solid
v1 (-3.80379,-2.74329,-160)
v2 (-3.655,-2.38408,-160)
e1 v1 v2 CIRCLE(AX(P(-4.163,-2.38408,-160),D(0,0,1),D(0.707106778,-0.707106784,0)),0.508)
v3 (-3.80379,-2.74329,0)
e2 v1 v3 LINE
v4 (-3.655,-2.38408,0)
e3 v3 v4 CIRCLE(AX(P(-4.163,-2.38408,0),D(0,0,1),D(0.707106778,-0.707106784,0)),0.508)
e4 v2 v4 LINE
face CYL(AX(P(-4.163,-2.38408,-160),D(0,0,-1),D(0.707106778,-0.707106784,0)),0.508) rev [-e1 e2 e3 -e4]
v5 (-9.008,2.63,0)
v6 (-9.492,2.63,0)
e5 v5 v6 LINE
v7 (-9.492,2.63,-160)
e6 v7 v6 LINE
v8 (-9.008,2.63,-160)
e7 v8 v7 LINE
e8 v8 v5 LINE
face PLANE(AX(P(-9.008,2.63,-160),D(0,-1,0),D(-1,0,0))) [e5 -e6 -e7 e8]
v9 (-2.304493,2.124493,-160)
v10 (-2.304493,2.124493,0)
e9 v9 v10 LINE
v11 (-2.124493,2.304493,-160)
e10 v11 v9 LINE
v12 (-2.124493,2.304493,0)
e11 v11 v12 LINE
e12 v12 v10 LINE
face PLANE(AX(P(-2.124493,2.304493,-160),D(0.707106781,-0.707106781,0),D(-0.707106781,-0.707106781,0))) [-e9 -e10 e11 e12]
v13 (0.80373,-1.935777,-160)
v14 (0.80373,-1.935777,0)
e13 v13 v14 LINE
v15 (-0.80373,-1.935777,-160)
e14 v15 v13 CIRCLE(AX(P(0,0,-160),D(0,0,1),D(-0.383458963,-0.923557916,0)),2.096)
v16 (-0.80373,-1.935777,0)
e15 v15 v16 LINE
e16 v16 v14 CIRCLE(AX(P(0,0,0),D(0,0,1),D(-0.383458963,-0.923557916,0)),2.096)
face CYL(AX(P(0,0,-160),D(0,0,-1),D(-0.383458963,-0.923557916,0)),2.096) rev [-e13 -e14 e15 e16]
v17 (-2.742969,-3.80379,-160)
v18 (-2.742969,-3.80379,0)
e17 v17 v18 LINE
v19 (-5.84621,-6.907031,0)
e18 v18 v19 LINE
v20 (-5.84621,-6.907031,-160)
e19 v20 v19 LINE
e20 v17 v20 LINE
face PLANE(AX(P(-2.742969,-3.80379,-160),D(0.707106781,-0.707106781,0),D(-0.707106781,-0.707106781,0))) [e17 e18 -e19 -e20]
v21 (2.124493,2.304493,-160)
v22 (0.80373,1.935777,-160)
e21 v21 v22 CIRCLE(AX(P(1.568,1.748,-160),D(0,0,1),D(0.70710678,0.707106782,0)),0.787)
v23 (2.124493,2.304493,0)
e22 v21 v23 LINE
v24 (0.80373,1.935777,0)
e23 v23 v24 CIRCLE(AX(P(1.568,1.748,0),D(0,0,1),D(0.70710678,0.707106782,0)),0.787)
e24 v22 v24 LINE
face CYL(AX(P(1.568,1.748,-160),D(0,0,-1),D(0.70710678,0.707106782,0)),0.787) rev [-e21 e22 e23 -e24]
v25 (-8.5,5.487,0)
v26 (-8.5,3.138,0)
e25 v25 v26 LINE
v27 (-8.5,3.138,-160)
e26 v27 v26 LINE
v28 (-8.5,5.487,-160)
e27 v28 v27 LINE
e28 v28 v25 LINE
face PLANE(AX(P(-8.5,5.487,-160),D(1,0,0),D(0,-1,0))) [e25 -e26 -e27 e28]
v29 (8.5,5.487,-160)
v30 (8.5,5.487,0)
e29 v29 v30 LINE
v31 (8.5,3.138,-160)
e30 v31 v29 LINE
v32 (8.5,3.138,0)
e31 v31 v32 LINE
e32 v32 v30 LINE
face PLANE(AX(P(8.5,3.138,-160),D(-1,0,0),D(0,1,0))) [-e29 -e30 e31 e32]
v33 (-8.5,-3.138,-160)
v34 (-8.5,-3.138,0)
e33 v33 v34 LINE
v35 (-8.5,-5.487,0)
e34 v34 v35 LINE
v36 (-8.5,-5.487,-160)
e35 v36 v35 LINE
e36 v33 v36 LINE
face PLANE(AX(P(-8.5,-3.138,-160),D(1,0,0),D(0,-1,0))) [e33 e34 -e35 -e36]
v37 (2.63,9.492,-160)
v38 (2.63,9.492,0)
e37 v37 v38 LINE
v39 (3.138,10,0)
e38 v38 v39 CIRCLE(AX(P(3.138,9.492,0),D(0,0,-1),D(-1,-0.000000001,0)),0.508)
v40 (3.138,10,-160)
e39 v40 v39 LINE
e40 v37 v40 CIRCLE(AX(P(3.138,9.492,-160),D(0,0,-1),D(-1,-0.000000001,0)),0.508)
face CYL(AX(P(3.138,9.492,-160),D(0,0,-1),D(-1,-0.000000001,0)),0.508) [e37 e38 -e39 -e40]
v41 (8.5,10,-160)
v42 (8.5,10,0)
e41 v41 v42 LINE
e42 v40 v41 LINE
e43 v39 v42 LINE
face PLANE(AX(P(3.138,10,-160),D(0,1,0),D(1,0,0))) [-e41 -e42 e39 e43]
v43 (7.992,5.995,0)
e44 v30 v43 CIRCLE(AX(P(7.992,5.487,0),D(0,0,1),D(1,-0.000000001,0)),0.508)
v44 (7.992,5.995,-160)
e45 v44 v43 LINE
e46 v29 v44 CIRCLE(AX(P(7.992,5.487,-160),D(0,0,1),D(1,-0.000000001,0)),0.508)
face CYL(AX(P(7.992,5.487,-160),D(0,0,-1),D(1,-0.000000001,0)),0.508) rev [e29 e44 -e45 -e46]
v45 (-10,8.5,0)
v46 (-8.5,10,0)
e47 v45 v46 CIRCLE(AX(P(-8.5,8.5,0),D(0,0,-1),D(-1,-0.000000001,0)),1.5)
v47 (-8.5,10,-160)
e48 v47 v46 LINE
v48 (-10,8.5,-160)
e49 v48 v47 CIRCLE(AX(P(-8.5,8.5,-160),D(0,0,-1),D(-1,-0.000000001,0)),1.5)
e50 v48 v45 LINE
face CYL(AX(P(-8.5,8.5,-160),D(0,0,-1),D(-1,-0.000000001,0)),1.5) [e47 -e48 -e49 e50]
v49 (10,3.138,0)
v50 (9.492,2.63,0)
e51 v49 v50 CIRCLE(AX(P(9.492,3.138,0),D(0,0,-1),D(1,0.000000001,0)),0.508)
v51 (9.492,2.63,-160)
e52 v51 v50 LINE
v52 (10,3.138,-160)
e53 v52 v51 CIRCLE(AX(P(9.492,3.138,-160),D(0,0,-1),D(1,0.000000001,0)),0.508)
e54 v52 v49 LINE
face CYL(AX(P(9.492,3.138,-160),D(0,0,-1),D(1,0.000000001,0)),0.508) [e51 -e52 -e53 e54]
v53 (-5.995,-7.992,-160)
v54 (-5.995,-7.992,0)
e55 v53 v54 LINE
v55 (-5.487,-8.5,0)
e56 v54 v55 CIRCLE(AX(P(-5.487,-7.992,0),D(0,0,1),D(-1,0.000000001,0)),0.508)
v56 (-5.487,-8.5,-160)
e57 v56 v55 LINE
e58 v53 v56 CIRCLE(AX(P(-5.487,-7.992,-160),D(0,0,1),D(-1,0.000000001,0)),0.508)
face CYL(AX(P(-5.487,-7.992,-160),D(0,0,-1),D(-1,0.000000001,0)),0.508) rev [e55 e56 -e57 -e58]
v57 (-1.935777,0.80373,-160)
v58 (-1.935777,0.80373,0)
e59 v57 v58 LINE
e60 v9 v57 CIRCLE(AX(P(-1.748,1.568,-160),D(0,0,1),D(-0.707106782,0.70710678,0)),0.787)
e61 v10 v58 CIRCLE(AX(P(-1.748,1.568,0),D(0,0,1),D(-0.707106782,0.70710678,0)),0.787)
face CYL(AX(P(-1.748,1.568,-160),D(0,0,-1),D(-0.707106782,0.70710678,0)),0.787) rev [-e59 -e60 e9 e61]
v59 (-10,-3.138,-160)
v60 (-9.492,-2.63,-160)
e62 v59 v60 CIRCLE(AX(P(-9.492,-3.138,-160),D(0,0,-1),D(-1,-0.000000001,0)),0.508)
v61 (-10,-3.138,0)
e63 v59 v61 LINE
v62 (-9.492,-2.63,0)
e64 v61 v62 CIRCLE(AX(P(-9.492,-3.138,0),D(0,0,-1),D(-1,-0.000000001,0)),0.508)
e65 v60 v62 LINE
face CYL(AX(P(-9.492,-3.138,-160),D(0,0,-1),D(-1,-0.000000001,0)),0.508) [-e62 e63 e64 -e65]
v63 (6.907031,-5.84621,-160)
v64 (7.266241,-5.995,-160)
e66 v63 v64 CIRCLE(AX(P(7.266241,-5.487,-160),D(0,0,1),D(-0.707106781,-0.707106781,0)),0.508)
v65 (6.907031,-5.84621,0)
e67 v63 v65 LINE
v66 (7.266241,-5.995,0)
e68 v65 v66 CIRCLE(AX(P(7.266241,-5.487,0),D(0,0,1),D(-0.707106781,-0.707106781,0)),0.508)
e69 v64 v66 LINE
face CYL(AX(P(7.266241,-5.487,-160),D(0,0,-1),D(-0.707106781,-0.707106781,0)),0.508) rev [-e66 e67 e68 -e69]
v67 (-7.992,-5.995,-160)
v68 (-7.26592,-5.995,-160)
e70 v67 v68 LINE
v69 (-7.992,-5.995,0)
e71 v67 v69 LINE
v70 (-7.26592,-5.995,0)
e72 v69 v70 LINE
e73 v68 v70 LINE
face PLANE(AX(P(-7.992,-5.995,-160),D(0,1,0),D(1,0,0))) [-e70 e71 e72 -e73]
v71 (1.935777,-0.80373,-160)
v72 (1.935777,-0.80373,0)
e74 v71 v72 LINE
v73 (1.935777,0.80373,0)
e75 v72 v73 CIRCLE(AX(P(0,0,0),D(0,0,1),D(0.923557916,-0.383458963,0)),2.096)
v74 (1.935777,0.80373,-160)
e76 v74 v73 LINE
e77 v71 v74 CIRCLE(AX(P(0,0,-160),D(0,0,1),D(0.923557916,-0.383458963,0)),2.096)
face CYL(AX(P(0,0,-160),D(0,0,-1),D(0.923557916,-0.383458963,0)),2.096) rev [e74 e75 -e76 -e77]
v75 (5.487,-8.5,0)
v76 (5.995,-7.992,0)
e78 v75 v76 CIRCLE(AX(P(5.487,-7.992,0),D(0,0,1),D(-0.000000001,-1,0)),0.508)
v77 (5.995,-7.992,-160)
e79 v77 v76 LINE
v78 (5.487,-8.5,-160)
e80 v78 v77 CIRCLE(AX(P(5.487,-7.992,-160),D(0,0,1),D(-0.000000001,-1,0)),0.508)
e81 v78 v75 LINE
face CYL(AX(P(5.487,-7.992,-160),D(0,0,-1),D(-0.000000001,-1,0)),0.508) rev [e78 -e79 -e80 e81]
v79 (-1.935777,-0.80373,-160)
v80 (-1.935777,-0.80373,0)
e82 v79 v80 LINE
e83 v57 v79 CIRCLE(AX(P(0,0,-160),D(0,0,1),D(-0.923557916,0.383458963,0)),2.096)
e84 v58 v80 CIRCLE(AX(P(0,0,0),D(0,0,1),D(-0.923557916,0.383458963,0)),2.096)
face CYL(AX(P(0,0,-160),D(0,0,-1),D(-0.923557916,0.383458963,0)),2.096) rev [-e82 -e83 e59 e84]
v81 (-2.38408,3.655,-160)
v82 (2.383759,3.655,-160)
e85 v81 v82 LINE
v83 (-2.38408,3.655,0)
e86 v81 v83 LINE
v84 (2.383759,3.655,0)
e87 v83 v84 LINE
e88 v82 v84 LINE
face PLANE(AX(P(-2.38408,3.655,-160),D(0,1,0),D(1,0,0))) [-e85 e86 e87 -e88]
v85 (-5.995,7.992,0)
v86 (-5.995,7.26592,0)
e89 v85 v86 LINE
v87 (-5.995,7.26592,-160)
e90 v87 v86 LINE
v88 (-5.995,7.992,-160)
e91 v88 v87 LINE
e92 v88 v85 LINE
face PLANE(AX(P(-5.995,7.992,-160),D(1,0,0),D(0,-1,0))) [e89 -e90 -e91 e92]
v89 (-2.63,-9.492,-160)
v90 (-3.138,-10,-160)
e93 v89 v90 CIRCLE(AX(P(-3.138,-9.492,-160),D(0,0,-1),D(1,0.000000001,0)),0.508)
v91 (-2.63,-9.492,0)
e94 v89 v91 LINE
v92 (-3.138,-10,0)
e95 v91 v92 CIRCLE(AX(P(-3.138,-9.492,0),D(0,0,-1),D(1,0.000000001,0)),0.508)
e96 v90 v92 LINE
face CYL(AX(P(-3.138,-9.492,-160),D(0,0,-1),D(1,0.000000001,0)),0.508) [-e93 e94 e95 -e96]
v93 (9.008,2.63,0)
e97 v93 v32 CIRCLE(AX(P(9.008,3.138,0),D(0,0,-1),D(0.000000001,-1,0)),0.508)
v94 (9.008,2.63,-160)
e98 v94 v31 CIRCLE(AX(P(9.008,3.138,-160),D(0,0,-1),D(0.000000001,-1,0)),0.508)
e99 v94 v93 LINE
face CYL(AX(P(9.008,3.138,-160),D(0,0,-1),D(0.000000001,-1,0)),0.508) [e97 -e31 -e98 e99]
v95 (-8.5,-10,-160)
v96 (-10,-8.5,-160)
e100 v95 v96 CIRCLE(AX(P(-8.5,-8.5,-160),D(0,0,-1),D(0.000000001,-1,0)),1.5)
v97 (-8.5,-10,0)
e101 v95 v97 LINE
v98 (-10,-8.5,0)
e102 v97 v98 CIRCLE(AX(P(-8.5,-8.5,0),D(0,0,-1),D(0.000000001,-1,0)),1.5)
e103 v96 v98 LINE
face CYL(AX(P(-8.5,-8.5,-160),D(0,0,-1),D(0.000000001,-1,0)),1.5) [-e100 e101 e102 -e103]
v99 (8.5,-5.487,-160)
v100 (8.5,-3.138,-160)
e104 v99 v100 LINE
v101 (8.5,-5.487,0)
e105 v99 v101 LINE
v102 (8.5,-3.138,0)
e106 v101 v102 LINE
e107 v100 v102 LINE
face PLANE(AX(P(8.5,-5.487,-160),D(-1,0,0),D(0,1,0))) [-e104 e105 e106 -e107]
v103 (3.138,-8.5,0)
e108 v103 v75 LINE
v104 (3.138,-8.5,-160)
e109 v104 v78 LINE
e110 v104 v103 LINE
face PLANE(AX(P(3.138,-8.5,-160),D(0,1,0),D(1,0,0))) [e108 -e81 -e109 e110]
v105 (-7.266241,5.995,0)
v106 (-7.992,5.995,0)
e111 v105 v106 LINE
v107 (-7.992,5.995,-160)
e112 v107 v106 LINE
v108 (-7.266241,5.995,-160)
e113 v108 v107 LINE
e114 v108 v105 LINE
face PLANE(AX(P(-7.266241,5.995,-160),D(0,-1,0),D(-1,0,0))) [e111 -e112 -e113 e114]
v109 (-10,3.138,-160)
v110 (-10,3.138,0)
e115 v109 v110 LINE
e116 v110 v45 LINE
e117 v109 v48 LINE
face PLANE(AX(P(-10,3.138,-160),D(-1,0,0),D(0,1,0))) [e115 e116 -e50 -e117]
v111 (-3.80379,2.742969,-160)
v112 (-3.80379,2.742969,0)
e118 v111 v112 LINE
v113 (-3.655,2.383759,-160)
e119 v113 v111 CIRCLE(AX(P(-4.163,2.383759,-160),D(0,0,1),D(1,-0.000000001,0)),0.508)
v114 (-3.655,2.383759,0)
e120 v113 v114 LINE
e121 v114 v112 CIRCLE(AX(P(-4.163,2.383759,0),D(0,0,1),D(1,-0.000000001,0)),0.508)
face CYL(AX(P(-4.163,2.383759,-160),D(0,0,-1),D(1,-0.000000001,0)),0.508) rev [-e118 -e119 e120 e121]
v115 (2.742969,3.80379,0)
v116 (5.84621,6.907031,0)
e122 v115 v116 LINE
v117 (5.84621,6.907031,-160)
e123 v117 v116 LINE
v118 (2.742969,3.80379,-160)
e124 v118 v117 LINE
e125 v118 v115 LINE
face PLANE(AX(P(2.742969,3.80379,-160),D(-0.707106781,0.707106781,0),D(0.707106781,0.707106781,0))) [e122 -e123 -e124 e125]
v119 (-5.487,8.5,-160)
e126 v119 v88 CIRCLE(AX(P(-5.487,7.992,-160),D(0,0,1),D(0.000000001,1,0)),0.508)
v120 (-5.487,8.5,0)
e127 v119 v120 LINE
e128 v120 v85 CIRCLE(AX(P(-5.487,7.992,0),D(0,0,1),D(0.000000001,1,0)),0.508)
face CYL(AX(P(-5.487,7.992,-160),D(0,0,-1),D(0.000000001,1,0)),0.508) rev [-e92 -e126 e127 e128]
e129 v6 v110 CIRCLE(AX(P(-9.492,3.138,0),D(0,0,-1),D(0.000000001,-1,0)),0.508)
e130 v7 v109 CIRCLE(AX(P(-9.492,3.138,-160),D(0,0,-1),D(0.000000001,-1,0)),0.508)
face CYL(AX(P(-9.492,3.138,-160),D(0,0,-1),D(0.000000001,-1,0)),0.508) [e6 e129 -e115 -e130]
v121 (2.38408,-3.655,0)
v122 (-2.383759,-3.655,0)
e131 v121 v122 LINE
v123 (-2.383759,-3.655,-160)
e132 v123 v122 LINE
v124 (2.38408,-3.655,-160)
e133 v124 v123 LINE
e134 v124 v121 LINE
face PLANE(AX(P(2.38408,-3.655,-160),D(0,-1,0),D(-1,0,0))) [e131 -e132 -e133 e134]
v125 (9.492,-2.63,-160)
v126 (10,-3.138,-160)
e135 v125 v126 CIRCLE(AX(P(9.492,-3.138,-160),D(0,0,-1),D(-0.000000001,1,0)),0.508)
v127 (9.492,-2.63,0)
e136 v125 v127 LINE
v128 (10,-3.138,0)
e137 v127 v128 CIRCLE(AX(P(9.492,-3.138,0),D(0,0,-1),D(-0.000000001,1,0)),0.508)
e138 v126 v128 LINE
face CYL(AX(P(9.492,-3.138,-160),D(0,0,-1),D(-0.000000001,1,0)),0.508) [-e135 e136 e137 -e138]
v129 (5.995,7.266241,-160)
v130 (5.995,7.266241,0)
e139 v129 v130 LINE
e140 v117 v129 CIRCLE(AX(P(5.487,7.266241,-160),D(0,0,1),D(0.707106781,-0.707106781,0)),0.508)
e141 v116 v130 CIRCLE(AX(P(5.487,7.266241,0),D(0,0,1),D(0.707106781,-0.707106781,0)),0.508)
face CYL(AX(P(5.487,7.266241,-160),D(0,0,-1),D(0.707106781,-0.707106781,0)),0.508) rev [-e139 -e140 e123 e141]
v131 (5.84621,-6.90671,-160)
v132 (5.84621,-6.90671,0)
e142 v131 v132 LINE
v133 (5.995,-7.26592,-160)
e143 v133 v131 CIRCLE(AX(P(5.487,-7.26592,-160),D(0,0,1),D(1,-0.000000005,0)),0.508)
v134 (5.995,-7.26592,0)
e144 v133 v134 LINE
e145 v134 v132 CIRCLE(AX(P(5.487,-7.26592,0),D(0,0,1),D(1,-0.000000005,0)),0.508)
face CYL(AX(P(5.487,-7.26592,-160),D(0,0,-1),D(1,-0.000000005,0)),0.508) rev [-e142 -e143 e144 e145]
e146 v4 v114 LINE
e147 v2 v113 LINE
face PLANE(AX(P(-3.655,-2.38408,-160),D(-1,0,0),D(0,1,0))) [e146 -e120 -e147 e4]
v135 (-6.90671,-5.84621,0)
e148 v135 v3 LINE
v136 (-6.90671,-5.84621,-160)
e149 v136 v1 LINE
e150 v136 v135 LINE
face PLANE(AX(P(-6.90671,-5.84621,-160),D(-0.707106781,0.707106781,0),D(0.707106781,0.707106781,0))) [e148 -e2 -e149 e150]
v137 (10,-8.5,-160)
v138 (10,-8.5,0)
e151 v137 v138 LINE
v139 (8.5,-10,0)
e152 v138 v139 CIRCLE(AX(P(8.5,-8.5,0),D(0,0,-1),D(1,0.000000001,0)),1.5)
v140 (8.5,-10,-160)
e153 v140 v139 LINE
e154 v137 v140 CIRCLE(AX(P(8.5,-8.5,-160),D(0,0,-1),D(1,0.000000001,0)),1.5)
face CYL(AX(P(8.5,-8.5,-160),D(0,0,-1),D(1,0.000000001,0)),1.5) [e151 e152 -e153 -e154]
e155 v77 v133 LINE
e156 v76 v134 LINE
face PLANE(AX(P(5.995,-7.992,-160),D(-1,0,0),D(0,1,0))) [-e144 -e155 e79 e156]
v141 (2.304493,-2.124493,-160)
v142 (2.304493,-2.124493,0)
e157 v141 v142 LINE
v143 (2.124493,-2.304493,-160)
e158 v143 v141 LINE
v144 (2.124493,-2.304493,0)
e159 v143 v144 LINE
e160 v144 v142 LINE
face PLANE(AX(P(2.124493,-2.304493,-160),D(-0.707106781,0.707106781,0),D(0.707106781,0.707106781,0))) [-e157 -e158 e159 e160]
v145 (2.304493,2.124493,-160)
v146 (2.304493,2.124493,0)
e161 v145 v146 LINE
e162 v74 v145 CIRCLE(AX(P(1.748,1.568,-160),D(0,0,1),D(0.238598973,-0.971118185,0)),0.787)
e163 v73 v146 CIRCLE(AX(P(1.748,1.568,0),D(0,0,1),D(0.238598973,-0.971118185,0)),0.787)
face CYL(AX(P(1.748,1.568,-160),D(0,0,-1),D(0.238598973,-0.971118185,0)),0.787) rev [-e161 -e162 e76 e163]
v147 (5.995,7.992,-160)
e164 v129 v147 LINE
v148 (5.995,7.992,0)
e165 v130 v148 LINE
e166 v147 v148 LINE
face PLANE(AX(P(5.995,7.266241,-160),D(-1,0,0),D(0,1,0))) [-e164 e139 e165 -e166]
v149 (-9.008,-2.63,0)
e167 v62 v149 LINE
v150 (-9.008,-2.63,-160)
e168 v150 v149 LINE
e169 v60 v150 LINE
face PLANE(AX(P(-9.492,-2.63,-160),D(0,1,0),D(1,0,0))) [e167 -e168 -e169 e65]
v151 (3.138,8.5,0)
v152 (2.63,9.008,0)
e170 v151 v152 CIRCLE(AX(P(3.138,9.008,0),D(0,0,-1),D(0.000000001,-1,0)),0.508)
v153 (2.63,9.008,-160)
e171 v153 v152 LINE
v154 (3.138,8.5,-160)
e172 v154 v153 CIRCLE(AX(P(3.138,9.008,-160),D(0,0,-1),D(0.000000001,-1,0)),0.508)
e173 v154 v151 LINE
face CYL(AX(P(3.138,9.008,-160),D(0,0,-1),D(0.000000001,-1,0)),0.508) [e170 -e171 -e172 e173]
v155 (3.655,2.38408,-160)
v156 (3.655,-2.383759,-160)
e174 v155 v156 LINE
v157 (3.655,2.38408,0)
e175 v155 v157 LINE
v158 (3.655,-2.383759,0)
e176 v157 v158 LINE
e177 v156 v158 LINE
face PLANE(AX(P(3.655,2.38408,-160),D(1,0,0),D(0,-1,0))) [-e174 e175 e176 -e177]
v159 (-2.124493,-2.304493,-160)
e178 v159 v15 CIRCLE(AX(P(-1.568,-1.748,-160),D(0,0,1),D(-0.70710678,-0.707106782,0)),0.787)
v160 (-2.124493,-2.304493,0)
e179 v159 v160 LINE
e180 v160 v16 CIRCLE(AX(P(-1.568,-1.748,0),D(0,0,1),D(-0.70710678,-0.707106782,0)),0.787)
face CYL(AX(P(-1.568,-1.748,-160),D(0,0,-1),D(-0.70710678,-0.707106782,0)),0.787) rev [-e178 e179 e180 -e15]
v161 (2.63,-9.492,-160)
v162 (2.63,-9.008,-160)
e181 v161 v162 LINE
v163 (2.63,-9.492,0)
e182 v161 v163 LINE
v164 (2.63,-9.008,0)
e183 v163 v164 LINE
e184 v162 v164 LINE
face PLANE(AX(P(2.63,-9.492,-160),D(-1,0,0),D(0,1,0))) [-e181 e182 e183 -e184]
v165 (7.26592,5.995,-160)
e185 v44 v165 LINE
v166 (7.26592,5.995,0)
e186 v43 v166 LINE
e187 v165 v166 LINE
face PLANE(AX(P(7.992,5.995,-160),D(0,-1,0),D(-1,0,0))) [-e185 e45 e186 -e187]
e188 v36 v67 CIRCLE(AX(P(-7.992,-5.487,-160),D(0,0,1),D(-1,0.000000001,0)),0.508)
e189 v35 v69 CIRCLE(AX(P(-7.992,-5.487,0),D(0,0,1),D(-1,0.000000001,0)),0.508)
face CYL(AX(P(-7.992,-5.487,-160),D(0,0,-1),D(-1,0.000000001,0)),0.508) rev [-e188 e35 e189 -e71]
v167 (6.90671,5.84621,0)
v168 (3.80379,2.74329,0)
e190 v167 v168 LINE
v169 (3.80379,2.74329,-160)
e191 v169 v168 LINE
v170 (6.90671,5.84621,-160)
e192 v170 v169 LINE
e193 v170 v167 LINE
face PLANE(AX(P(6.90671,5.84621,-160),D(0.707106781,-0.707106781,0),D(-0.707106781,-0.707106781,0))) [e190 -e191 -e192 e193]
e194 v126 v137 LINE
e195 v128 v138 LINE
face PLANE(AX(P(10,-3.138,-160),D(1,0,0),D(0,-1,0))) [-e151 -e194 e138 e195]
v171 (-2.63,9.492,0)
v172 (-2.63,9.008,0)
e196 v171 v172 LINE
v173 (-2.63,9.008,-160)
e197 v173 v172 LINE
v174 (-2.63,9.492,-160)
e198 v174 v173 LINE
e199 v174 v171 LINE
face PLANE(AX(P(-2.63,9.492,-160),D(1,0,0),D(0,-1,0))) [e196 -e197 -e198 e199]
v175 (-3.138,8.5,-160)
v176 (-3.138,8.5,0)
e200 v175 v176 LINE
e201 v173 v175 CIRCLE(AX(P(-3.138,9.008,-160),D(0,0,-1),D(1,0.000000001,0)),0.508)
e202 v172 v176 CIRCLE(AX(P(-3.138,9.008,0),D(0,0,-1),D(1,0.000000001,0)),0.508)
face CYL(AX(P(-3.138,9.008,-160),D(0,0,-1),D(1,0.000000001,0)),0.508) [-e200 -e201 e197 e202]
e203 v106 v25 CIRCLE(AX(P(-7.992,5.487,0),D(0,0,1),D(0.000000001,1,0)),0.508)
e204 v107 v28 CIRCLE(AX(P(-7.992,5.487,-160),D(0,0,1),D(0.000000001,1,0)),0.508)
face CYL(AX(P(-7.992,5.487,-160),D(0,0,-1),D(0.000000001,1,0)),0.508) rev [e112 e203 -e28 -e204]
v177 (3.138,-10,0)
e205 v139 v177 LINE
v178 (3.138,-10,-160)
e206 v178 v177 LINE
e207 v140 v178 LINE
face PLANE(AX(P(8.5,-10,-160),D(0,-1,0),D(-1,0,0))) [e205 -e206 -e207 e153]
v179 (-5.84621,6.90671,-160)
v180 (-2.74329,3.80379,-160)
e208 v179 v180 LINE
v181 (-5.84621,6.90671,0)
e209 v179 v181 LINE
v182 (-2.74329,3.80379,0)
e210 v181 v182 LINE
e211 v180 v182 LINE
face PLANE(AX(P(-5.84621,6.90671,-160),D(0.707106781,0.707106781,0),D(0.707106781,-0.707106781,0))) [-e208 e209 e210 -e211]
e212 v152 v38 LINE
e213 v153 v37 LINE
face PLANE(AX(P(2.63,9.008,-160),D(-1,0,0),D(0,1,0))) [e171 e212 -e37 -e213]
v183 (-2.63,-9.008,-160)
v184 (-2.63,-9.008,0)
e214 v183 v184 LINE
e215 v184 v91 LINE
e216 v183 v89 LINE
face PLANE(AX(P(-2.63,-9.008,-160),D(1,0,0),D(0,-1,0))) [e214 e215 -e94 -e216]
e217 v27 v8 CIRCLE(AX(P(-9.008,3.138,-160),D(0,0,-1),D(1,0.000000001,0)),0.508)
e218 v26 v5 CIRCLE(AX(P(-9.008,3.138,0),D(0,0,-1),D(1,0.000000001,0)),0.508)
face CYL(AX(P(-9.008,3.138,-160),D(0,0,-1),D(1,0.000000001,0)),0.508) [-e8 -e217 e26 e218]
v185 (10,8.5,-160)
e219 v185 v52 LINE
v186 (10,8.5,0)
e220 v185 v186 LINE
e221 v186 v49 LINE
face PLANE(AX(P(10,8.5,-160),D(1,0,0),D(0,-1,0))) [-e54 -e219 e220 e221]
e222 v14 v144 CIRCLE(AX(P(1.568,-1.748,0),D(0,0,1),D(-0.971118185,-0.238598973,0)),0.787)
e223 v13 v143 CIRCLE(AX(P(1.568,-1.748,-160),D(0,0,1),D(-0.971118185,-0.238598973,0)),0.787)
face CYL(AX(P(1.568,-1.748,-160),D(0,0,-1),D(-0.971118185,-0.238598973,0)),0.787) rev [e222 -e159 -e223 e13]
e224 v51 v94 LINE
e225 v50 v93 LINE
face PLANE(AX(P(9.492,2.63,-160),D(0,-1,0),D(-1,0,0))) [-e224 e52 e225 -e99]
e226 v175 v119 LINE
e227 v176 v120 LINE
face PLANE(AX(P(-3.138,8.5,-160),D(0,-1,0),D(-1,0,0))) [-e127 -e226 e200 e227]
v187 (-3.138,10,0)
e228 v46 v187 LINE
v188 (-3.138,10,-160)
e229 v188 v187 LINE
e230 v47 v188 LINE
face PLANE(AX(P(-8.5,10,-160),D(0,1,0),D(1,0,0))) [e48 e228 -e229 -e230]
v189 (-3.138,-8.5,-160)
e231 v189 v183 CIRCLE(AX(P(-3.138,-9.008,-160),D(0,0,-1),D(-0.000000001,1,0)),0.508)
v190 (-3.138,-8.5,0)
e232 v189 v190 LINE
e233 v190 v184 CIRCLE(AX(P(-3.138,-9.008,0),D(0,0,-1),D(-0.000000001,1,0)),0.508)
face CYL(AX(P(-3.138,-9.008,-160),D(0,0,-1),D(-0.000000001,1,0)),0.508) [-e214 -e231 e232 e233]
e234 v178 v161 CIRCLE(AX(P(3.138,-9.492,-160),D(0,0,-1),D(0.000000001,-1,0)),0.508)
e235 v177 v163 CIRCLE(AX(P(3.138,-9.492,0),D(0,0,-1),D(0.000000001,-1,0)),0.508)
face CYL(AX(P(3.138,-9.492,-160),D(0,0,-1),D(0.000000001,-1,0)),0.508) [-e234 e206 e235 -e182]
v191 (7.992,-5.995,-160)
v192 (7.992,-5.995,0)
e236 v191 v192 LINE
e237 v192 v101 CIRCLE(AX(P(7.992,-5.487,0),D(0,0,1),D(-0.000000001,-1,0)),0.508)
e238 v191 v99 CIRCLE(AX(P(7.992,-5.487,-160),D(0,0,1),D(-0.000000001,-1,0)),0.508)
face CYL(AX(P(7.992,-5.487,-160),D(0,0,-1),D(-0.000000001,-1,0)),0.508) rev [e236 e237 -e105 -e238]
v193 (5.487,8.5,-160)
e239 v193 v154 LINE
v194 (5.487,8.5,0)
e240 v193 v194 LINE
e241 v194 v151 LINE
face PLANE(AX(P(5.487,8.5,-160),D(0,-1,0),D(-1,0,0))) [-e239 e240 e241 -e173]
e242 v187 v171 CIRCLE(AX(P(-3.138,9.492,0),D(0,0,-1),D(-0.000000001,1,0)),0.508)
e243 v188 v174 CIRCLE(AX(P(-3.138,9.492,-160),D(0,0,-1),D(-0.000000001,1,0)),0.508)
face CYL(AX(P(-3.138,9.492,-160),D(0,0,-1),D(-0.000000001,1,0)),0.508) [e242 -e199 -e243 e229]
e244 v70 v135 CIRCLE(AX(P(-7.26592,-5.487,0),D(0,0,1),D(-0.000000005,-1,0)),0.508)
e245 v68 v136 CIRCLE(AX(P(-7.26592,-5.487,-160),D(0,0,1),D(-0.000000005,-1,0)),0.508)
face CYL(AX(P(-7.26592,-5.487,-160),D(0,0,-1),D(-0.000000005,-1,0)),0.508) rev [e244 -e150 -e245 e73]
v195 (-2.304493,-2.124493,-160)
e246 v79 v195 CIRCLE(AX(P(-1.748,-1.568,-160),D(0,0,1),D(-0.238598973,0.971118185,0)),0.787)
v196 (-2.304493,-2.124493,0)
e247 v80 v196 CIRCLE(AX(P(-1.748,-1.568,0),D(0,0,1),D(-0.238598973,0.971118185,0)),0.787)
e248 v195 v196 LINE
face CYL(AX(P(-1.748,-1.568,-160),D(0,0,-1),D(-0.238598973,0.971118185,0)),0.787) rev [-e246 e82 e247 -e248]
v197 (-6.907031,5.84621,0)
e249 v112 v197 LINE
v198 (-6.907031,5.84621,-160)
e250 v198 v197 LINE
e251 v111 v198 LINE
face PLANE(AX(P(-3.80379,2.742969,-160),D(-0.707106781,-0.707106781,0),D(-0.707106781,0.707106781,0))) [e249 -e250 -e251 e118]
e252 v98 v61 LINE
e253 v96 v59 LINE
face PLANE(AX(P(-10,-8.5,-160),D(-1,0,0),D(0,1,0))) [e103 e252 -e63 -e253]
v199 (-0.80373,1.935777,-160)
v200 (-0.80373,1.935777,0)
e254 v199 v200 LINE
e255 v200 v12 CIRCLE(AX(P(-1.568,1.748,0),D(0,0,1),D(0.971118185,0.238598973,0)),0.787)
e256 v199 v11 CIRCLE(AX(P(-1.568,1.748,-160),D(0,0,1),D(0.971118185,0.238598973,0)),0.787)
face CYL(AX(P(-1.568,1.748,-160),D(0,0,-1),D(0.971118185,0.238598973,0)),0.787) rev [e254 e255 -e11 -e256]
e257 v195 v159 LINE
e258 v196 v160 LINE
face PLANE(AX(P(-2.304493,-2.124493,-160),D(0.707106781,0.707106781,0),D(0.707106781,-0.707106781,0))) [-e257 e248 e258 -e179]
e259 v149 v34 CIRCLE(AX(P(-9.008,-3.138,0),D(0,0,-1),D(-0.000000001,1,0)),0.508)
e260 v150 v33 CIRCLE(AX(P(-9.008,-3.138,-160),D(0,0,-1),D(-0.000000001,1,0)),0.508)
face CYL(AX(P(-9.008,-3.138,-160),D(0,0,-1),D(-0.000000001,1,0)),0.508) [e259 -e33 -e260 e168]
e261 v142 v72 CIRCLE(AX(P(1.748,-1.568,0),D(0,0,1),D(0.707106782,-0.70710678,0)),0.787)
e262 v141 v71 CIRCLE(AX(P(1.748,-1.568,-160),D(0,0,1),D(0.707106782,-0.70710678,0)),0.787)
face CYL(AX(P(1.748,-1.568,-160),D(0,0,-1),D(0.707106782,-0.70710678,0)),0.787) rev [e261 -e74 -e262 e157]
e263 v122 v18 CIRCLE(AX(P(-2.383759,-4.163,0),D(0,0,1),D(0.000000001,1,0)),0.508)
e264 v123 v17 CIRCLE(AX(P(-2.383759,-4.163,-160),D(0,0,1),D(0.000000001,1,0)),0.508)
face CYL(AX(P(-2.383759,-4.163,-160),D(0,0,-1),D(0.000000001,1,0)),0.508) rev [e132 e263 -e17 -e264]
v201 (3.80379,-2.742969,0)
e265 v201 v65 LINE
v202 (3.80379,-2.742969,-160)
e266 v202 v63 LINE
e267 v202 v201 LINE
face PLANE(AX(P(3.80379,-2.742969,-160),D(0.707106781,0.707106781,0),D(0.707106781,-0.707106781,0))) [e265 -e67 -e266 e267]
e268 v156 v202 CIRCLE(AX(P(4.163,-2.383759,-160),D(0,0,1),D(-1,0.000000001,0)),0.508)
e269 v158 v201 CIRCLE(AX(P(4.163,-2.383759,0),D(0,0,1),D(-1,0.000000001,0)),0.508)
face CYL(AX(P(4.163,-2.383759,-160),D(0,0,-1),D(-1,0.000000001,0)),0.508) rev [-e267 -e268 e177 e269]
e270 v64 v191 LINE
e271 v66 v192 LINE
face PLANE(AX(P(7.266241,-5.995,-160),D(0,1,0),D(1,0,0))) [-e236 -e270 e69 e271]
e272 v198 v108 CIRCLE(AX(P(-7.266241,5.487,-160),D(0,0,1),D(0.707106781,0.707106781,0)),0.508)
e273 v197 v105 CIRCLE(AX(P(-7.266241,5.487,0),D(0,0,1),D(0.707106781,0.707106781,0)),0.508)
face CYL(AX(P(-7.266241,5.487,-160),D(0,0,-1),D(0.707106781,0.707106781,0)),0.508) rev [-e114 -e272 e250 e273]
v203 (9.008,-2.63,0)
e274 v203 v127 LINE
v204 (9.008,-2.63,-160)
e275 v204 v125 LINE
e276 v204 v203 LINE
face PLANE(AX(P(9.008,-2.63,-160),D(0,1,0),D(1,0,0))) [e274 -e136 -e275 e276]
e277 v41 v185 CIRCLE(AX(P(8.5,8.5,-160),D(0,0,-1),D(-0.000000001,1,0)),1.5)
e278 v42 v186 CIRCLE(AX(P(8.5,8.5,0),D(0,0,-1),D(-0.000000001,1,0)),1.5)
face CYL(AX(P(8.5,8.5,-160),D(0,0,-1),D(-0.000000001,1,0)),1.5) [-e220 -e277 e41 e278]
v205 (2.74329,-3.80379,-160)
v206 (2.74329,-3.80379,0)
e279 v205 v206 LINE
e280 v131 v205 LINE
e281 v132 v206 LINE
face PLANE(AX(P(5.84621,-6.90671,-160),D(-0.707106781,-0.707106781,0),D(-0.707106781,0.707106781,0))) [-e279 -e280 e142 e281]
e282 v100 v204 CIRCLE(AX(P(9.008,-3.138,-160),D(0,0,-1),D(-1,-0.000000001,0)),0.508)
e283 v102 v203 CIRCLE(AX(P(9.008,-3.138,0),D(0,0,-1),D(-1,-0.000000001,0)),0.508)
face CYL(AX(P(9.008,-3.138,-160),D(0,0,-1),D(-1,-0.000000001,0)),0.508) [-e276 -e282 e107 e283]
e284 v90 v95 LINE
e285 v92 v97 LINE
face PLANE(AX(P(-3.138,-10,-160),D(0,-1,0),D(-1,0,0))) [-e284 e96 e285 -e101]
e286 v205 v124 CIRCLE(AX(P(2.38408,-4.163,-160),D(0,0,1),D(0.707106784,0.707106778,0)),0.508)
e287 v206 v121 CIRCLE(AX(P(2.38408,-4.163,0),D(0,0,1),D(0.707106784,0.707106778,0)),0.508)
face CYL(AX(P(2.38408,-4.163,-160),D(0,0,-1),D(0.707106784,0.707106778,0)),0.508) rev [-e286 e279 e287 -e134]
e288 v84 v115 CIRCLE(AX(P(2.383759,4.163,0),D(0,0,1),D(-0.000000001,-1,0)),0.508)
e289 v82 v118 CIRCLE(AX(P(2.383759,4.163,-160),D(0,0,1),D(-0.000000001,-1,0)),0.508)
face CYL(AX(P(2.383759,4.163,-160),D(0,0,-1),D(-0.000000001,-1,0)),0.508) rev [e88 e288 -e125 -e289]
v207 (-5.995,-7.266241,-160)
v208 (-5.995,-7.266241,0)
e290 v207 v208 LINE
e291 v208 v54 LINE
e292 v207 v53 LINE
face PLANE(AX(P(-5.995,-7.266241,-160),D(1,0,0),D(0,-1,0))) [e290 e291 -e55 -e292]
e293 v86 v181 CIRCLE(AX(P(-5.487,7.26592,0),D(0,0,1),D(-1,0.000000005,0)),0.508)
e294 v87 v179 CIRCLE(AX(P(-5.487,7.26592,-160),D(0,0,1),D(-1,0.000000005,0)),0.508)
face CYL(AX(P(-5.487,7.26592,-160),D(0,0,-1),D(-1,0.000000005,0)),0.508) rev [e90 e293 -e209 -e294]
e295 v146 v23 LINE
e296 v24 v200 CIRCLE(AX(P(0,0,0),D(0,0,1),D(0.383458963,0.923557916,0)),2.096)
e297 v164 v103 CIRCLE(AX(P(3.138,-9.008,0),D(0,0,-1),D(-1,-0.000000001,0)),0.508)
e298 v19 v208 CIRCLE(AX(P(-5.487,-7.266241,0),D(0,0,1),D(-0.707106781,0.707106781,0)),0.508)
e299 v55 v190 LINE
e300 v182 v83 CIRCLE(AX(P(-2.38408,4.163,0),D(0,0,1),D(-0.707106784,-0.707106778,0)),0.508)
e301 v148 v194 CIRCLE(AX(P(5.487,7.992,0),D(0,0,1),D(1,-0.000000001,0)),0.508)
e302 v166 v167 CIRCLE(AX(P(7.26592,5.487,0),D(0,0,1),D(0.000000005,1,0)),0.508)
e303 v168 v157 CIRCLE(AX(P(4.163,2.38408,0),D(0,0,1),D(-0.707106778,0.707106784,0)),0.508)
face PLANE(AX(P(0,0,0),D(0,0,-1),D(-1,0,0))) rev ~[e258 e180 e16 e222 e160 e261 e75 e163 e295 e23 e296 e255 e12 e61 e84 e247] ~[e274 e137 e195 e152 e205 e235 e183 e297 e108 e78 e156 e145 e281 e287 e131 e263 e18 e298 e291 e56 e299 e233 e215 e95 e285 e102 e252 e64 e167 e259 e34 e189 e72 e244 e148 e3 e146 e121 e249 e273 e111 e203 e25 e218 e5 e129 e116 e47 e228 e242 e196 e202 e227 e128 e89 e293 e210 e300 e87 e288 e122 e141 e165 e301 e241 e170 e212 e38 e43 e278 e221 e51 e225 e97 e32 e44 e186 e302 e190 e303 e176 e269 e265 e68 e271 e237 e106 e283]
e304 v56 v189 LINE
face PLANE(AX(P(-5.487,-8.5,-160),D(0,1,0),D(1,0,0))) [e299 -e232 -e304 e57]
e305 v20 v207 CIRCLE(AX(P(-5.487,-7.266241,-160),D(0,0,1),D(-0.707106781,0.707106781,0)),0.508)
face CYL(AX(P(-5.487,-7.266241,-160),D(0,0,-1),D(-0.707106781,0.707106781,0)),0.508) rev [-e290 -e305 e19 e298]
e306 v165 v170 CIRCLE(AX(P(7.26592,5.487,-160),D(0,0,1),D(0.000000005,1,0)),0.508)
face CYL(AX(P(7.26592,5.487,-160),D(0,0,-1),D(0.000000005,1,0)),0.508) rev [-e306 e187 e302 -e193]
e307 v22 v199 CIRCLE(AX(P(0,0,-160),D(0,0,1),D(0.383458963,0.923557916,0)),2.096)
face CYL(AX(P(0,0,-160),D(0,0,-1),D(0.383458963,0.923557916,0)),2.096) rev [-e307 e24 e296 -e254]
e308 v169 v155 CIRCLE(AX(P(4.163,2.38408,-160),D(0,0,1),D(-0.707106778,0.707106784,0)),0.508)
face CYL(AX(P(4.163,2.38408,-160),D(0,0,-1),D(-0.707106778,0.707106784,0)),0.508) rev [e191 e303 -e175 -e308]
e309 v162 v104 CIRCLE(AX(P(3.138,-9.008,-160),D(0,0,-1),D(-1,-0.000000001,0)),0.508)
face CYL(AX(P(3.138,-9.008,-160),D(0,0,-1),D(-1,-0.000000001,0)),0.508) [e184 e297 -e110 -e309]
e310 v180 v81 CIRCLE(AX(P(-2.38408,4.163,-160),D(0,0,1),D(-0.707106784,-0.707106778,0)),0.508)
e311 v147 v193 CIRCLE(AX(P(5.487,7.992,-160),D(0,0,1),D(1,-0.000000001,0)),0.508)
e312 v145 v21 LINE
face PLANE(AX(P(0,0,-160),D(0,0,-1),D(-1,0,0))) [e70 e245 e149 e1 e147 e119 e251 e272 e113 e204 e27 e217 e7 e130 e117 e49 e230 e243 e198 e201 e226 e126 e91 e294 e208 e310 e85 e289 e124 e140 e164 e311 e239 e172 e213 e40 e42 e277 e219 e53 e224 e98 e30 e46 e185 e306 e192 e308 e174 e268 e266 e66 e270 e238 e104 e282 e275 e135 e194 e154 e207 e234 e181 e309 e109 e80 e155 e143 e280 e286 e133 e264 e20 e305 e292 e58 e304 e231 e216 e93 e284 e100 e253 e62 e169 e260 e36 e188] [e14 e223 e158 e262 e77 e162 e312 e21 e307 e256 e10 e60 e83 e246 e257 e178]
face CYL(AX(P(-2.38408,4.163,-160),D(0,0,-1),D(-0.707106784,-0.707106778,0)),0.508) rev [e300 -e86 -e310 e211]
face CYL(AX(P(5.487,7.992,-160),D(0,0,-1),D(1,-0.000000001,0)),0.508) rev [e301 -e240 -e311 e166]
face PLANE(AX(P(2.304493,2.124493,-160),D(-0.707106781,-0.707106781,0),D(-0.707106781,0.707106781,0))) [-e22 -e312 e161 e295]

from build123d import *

# Parameters (mm, degrees)
BOSS_EXTRUDE1_DEPTH = 160


with BuildPart() as part:
    # Sketch1 → Boss-Extrude1 (new body)
    with BuildSketch(Plane(origin=(0, 0, -160), x_dir=(-1, 0, 0), z_dir=(0, 0, -1))):
        with BuildLine():
            Line((10, -8.5), (10, -3.138))
            ThreePointArc((10, -3.138), (9.851210245, -2.778789755), (9.492, -2.63))
            Line((9.492, -2.63), (9.008, -2.63))
            ThreePointArc((9.008, -2.63), (8.648789755, -2.778789755), (8.5, -3.138))
            Line((8.5, -3.138), (8.5, -5.487))
            ThreePointArc((8.5, -5.487), (8.351210245, -5.846210245), (7.992, -5.995))
            Line((7.992, -5.995), (7.26592049, -5.995))
            ThreePointArc((7.26592049, -5.995), (7.071517306, -5.956330803), (6.906710245, -5.846210245))
            Line((6.906710245, -5.846210245), (3.803789755, -2.743289755))
            ThreePointArc((3.803789755, -2.743289755), (3.693669197, -2.578482694), (3.655, -2.38407951))
            Line((3.655, -2.38407951), (3.655, 2.383759167))
            ThreePointArc((3.655, 2.383759167), (3.693669197, 2.57816235), (3.803789755, 2.742969412))
            Line((3.803789755, 2.742969412), (6.907030588, 5.846210245))
            ThreePointArc((6.907030588, 5.846210245), (7.07183765, 5.956330803), (7.266240833, 5.995))
            Line((7.266240833, 5.995), (7.992, 5.995))
            ThreePointArc((7.992, 5.995), (8.351210245, 5.846210245), (8.5, 5.487))
            Line((8.5, 5.487), (8.5, 3.138))
            ThreePointArc((8.5, 3.138), (8.648789755, 2.778789755), (9.008, 2.63))
            Line((9.008, 2.63), (9.492, 2.63))
            ThreePointArc((9.492, 2.63), (9.851210245, 2.778789755), (10, 3.138))
            Line((10, 3.138), (10, 8.5))
            ThreePointArc((10, 8.5), (9.560660172, 9.560660172), (8.5, 10))
            Line((8.5, 10), (3.138, 10))
            ThreePointArc((3.138, 10), (2.778789755, 9.851210245), (2.63, 9.492))
            Line((2.63, 9.492), (2.63, 9.008))
            ThreePointArc((2.63, 9.008), (2.778789755, 8.648789755), (3.138, 8.5))
            Line((3.138, 8.5), (5.487, 8.5))
            ThreePointArc((5.487, 8.5), (5.846210245, 8.351210245), (5.995, 7.992))
            Line((5.995, 7.992), (5.995, 7.26592049))
            ThreePointArc((5.995, 7.26592049), (5.956330803, 7.071517306), (5.846210245, 6.906710245))
            Line((5.846210245, 6.906710245), (2.743289755, 3.803789755))
            ThreePointArc((2.743289755, 3.803789755), (2.578482694, 3.693669197), (2.38407951, 3.655))
            Line((2.38407951, 3.655), (-2.383759167, 3.655))
            ThreePointArc((-2.383759167, 3.655), (-2.57816235, 3.693669197), (-2.742969412, 3.803789755))
            Line((-2.742969412, 3.803789755), (-5.846210245, 6.907030588))
            ThreePointArc((-5.846210245, 6.907030588), (-5.956330803, 7.07183765), (-5.995, 7.266240833))
            Line((-5.995, 7.266240833), (-5.995, 7.992))
            ThreePointArc((-5.995, 7.992), (-5.846210245, 8.351210245), (-5.487, 8.5))
            Line((-5.487, 8.5), (-3.138, 8.5))
            ThreePointArc((-3.138, 8.5), (-2.778789755, 8.648789755), (-2.63, 9.008))
            Line((-2.63, 9.008), (-2.63, 9.492))
            ThreePointArc((-2.63, 9.492), (-2.778789755, 9.851210245), (-3.138, 10))
            Line((-3.138, 10), (-8.5, 10))
            ThreePointArc((-8.5, 10), (-9.560660172, 9.560660172), (-10, 8.5))
            Line((-10, 8.5), (-10, 3.138))
            ThreePointArc((-10, 3.138), (-9.851210245, 2.778789755), (-9.492, 2.63))
            Line((-9.492, 2.63), (-9.008, 2.63))
            ThreePointArc((-9.008, 2.63), (-8.648789755, 2.778789755), (-8.5, 3.138))
            Line((-8.5, 3.138), (-8.5, 5.487))
            ThreePointArc((-8.5, 5.487), (-8.351210245, 5.846210245), (-7.992, 5.995))
            Line((-7.992, 5.995), (-7.26592049, 5.995))
            ThreePointArc((-7.26592049, 5.995), (-7.071517306, 5.956330803), (-6.906710245, 5.846210245))
            Line((-6.906710245, 5.846210245), (-3.803789755, 2.743289755))
            ThreePointArc((-3.803789755, 2.743289755), (-3.693669197, 2.578482694), (-3.655, 2.38407951))
            Line((-3.655, 2.38407951), (-3.655, -2.383759167))
            ThreePointArc((-3.655, -2.383759167), (-3.693669197, -2.57816235), (-3.803789755, -2.742969412))
            Line((-3.803789755, -2.742969412), (-6.907030588, -5.846210245))
            ThreePointArc((-6.907030588, -5.846210245), (-7.07183765, -5.956330803), (-7.266240833, -5.995))
            Line((-7.266240833, -5.995), (-7.992, -5.995))
            ThreePointArc((-7.992, -5.995), (-8.351210245, -5.846210245), (-8.5, -5.487))
            Line((-8.5, -5.487), (-8.5, -3.138))
            ThreePointArc((-8.5, -3.138), (-8.648789755, -2.778789755), (-9.008, -2.63))
            Line((-9.008, -2.63), (-9.492, -2.63))
            ThreePointArc((-9.492, -2.63), (-9.851210245, -2.778789755), (-10, -3.138))
            Line((-10, -3.138), (-10, -8.5))
            ThreePointArc((-10, -8.5), (-9.560660172, -9.560660172), (-8.5, -10))
            Line((-8.5, -10), (-3.138, -10))
            ThreePointArc((-3.138, -10), (-2.778789755, -9.851210245), (-2.63, -9.492))
            Line((-2.63, -9.492), (-2.63, -9.008))
            ThreePointArc((-2.63, -9.008), (-2.778789755, -8.648789755), (-3.138, -8.5))
            Line((-3.138, -8.5), (-5.487, -8.5))
            ThreePointArc((-5.487, -8.5), (-5.846210245, -8.351210245), (-5.995, -7.992))
            Line((-5.995, -7.992), (-5.995, -7.26592049))
            ThreePointArc((-5.995, -7.26592049), (-5.956330803, -7.071517306), (-5.846210245, -6.906710245))
            Line((-5.846210245, -6.906710245), (-2.743289755, -3.803789755))
            ThreePointArc((-2.743289755, -3.803789755), (-2.578482694, -3.693669197), (-2.38407951, -3.655))
            Line((-2.38407951, -3.655), (2.383759167, -3.655))
            ThreePointArc((2.383759167, -3.655), (2.57816235, -3.693669197), (2.742969412, -3.803789755))
            Line((2.742969412, -3.803789755), (5.846210245, -6.907030588))
            ThreePointArc((5.846210245, -6.907030588), (5.956330803, -7.07183765), (5.995, -7.266240833))
            Line((5.995, -7.266240833), (5.995, -7.992))
            ThreePointArc((5.995, -7.992), (5.846210245, -8.351210245), (5.487, -8.5))
            Line((5.487, -8.5), (3.138, -8.5))
            ThreePointArc((3.138, -8.5), (2.778789755, -8.648789755), (2.63, -9.008))
            Line((2.63, -9.008), (2.63, -9.492))
            ThreePointArc((2.63, -9.492), (2.778789755, -9.851210245), (3.138, -10))
            Line((3.138, -10), (8.5, -10))
            ThreePointArc((8.5, -10), (9.560660172, -9.560660172), (10, -8.5))
        make_face()
        with BuildLine():
            Line((2.304493037, -2.124493037), (2.124493037, -2.304493037))
            ThreePointArc((2.124493037, -2.304493037), (1.35638567, -2.506016078), (0.803729988, -1.935777391))
            ThreePointArc((0.803729988, -1.935777391), (0, -2.096), (-0.803729988, -1.935777391))
            ThreePointArc((-0.803729988, -1.935777391), (-1.35638567, -2.506016078), (-2.124493037, -2.304493037))
            Line((-2.124493037, -2.304493037), (-2.304493037, -2.124493037))
            ThreePointArc((-2.304493037, -2.124493037), (-2.506016078, -1.35638567), (-1.935777391, -0.803729988))
            ThreePointArc((-1.935777391, -0.803729988), (-2.096, 0), (-1.935777391, 0.803729988))
            ThreePointArc((-1.935777391, 0.803729988), (-2.506016078, 1.35638567), (-2.304493037, 2.124493037))
            Line((-2.304493037, 2.124493037), (-2.124493037, 2.304493037))
            ThreePointArc((-2.124493037, 2.304493037), (-1.35638567, 2.506016078), (-0.803729988, 1.935777391))
            ThreePointArc((-0.803729988, 1.935777391), (0, 2.096), (0.803729988, 1.935777391))
            ThreePointArc((0.803729988, 1.935777391), (1.35638567, 2.506016078), (2.124493037, 2.304493037))
            Line((2.124493037, 2.304493037), (2.304493037, 2.124493037))
            ThreePointArc((2.304493037, 2.124493037), (2.506016078, 1.35638567), (1.935777391, 0.803729988))
            ThreePointArc((1.935777391, 0.803729988), (2.096, 0), (1.935777391, -0.803729988))
            ThreePointArc((1.935777391, -0.803729988), (2.506016078, -1.35638567), (2.304493037, -2.124493037))
        make_face(mode=Mode.SUBTRACT)
    extrude(amount=-BOSS_EXTRUDE1_DEPTH)


solid = part.part
